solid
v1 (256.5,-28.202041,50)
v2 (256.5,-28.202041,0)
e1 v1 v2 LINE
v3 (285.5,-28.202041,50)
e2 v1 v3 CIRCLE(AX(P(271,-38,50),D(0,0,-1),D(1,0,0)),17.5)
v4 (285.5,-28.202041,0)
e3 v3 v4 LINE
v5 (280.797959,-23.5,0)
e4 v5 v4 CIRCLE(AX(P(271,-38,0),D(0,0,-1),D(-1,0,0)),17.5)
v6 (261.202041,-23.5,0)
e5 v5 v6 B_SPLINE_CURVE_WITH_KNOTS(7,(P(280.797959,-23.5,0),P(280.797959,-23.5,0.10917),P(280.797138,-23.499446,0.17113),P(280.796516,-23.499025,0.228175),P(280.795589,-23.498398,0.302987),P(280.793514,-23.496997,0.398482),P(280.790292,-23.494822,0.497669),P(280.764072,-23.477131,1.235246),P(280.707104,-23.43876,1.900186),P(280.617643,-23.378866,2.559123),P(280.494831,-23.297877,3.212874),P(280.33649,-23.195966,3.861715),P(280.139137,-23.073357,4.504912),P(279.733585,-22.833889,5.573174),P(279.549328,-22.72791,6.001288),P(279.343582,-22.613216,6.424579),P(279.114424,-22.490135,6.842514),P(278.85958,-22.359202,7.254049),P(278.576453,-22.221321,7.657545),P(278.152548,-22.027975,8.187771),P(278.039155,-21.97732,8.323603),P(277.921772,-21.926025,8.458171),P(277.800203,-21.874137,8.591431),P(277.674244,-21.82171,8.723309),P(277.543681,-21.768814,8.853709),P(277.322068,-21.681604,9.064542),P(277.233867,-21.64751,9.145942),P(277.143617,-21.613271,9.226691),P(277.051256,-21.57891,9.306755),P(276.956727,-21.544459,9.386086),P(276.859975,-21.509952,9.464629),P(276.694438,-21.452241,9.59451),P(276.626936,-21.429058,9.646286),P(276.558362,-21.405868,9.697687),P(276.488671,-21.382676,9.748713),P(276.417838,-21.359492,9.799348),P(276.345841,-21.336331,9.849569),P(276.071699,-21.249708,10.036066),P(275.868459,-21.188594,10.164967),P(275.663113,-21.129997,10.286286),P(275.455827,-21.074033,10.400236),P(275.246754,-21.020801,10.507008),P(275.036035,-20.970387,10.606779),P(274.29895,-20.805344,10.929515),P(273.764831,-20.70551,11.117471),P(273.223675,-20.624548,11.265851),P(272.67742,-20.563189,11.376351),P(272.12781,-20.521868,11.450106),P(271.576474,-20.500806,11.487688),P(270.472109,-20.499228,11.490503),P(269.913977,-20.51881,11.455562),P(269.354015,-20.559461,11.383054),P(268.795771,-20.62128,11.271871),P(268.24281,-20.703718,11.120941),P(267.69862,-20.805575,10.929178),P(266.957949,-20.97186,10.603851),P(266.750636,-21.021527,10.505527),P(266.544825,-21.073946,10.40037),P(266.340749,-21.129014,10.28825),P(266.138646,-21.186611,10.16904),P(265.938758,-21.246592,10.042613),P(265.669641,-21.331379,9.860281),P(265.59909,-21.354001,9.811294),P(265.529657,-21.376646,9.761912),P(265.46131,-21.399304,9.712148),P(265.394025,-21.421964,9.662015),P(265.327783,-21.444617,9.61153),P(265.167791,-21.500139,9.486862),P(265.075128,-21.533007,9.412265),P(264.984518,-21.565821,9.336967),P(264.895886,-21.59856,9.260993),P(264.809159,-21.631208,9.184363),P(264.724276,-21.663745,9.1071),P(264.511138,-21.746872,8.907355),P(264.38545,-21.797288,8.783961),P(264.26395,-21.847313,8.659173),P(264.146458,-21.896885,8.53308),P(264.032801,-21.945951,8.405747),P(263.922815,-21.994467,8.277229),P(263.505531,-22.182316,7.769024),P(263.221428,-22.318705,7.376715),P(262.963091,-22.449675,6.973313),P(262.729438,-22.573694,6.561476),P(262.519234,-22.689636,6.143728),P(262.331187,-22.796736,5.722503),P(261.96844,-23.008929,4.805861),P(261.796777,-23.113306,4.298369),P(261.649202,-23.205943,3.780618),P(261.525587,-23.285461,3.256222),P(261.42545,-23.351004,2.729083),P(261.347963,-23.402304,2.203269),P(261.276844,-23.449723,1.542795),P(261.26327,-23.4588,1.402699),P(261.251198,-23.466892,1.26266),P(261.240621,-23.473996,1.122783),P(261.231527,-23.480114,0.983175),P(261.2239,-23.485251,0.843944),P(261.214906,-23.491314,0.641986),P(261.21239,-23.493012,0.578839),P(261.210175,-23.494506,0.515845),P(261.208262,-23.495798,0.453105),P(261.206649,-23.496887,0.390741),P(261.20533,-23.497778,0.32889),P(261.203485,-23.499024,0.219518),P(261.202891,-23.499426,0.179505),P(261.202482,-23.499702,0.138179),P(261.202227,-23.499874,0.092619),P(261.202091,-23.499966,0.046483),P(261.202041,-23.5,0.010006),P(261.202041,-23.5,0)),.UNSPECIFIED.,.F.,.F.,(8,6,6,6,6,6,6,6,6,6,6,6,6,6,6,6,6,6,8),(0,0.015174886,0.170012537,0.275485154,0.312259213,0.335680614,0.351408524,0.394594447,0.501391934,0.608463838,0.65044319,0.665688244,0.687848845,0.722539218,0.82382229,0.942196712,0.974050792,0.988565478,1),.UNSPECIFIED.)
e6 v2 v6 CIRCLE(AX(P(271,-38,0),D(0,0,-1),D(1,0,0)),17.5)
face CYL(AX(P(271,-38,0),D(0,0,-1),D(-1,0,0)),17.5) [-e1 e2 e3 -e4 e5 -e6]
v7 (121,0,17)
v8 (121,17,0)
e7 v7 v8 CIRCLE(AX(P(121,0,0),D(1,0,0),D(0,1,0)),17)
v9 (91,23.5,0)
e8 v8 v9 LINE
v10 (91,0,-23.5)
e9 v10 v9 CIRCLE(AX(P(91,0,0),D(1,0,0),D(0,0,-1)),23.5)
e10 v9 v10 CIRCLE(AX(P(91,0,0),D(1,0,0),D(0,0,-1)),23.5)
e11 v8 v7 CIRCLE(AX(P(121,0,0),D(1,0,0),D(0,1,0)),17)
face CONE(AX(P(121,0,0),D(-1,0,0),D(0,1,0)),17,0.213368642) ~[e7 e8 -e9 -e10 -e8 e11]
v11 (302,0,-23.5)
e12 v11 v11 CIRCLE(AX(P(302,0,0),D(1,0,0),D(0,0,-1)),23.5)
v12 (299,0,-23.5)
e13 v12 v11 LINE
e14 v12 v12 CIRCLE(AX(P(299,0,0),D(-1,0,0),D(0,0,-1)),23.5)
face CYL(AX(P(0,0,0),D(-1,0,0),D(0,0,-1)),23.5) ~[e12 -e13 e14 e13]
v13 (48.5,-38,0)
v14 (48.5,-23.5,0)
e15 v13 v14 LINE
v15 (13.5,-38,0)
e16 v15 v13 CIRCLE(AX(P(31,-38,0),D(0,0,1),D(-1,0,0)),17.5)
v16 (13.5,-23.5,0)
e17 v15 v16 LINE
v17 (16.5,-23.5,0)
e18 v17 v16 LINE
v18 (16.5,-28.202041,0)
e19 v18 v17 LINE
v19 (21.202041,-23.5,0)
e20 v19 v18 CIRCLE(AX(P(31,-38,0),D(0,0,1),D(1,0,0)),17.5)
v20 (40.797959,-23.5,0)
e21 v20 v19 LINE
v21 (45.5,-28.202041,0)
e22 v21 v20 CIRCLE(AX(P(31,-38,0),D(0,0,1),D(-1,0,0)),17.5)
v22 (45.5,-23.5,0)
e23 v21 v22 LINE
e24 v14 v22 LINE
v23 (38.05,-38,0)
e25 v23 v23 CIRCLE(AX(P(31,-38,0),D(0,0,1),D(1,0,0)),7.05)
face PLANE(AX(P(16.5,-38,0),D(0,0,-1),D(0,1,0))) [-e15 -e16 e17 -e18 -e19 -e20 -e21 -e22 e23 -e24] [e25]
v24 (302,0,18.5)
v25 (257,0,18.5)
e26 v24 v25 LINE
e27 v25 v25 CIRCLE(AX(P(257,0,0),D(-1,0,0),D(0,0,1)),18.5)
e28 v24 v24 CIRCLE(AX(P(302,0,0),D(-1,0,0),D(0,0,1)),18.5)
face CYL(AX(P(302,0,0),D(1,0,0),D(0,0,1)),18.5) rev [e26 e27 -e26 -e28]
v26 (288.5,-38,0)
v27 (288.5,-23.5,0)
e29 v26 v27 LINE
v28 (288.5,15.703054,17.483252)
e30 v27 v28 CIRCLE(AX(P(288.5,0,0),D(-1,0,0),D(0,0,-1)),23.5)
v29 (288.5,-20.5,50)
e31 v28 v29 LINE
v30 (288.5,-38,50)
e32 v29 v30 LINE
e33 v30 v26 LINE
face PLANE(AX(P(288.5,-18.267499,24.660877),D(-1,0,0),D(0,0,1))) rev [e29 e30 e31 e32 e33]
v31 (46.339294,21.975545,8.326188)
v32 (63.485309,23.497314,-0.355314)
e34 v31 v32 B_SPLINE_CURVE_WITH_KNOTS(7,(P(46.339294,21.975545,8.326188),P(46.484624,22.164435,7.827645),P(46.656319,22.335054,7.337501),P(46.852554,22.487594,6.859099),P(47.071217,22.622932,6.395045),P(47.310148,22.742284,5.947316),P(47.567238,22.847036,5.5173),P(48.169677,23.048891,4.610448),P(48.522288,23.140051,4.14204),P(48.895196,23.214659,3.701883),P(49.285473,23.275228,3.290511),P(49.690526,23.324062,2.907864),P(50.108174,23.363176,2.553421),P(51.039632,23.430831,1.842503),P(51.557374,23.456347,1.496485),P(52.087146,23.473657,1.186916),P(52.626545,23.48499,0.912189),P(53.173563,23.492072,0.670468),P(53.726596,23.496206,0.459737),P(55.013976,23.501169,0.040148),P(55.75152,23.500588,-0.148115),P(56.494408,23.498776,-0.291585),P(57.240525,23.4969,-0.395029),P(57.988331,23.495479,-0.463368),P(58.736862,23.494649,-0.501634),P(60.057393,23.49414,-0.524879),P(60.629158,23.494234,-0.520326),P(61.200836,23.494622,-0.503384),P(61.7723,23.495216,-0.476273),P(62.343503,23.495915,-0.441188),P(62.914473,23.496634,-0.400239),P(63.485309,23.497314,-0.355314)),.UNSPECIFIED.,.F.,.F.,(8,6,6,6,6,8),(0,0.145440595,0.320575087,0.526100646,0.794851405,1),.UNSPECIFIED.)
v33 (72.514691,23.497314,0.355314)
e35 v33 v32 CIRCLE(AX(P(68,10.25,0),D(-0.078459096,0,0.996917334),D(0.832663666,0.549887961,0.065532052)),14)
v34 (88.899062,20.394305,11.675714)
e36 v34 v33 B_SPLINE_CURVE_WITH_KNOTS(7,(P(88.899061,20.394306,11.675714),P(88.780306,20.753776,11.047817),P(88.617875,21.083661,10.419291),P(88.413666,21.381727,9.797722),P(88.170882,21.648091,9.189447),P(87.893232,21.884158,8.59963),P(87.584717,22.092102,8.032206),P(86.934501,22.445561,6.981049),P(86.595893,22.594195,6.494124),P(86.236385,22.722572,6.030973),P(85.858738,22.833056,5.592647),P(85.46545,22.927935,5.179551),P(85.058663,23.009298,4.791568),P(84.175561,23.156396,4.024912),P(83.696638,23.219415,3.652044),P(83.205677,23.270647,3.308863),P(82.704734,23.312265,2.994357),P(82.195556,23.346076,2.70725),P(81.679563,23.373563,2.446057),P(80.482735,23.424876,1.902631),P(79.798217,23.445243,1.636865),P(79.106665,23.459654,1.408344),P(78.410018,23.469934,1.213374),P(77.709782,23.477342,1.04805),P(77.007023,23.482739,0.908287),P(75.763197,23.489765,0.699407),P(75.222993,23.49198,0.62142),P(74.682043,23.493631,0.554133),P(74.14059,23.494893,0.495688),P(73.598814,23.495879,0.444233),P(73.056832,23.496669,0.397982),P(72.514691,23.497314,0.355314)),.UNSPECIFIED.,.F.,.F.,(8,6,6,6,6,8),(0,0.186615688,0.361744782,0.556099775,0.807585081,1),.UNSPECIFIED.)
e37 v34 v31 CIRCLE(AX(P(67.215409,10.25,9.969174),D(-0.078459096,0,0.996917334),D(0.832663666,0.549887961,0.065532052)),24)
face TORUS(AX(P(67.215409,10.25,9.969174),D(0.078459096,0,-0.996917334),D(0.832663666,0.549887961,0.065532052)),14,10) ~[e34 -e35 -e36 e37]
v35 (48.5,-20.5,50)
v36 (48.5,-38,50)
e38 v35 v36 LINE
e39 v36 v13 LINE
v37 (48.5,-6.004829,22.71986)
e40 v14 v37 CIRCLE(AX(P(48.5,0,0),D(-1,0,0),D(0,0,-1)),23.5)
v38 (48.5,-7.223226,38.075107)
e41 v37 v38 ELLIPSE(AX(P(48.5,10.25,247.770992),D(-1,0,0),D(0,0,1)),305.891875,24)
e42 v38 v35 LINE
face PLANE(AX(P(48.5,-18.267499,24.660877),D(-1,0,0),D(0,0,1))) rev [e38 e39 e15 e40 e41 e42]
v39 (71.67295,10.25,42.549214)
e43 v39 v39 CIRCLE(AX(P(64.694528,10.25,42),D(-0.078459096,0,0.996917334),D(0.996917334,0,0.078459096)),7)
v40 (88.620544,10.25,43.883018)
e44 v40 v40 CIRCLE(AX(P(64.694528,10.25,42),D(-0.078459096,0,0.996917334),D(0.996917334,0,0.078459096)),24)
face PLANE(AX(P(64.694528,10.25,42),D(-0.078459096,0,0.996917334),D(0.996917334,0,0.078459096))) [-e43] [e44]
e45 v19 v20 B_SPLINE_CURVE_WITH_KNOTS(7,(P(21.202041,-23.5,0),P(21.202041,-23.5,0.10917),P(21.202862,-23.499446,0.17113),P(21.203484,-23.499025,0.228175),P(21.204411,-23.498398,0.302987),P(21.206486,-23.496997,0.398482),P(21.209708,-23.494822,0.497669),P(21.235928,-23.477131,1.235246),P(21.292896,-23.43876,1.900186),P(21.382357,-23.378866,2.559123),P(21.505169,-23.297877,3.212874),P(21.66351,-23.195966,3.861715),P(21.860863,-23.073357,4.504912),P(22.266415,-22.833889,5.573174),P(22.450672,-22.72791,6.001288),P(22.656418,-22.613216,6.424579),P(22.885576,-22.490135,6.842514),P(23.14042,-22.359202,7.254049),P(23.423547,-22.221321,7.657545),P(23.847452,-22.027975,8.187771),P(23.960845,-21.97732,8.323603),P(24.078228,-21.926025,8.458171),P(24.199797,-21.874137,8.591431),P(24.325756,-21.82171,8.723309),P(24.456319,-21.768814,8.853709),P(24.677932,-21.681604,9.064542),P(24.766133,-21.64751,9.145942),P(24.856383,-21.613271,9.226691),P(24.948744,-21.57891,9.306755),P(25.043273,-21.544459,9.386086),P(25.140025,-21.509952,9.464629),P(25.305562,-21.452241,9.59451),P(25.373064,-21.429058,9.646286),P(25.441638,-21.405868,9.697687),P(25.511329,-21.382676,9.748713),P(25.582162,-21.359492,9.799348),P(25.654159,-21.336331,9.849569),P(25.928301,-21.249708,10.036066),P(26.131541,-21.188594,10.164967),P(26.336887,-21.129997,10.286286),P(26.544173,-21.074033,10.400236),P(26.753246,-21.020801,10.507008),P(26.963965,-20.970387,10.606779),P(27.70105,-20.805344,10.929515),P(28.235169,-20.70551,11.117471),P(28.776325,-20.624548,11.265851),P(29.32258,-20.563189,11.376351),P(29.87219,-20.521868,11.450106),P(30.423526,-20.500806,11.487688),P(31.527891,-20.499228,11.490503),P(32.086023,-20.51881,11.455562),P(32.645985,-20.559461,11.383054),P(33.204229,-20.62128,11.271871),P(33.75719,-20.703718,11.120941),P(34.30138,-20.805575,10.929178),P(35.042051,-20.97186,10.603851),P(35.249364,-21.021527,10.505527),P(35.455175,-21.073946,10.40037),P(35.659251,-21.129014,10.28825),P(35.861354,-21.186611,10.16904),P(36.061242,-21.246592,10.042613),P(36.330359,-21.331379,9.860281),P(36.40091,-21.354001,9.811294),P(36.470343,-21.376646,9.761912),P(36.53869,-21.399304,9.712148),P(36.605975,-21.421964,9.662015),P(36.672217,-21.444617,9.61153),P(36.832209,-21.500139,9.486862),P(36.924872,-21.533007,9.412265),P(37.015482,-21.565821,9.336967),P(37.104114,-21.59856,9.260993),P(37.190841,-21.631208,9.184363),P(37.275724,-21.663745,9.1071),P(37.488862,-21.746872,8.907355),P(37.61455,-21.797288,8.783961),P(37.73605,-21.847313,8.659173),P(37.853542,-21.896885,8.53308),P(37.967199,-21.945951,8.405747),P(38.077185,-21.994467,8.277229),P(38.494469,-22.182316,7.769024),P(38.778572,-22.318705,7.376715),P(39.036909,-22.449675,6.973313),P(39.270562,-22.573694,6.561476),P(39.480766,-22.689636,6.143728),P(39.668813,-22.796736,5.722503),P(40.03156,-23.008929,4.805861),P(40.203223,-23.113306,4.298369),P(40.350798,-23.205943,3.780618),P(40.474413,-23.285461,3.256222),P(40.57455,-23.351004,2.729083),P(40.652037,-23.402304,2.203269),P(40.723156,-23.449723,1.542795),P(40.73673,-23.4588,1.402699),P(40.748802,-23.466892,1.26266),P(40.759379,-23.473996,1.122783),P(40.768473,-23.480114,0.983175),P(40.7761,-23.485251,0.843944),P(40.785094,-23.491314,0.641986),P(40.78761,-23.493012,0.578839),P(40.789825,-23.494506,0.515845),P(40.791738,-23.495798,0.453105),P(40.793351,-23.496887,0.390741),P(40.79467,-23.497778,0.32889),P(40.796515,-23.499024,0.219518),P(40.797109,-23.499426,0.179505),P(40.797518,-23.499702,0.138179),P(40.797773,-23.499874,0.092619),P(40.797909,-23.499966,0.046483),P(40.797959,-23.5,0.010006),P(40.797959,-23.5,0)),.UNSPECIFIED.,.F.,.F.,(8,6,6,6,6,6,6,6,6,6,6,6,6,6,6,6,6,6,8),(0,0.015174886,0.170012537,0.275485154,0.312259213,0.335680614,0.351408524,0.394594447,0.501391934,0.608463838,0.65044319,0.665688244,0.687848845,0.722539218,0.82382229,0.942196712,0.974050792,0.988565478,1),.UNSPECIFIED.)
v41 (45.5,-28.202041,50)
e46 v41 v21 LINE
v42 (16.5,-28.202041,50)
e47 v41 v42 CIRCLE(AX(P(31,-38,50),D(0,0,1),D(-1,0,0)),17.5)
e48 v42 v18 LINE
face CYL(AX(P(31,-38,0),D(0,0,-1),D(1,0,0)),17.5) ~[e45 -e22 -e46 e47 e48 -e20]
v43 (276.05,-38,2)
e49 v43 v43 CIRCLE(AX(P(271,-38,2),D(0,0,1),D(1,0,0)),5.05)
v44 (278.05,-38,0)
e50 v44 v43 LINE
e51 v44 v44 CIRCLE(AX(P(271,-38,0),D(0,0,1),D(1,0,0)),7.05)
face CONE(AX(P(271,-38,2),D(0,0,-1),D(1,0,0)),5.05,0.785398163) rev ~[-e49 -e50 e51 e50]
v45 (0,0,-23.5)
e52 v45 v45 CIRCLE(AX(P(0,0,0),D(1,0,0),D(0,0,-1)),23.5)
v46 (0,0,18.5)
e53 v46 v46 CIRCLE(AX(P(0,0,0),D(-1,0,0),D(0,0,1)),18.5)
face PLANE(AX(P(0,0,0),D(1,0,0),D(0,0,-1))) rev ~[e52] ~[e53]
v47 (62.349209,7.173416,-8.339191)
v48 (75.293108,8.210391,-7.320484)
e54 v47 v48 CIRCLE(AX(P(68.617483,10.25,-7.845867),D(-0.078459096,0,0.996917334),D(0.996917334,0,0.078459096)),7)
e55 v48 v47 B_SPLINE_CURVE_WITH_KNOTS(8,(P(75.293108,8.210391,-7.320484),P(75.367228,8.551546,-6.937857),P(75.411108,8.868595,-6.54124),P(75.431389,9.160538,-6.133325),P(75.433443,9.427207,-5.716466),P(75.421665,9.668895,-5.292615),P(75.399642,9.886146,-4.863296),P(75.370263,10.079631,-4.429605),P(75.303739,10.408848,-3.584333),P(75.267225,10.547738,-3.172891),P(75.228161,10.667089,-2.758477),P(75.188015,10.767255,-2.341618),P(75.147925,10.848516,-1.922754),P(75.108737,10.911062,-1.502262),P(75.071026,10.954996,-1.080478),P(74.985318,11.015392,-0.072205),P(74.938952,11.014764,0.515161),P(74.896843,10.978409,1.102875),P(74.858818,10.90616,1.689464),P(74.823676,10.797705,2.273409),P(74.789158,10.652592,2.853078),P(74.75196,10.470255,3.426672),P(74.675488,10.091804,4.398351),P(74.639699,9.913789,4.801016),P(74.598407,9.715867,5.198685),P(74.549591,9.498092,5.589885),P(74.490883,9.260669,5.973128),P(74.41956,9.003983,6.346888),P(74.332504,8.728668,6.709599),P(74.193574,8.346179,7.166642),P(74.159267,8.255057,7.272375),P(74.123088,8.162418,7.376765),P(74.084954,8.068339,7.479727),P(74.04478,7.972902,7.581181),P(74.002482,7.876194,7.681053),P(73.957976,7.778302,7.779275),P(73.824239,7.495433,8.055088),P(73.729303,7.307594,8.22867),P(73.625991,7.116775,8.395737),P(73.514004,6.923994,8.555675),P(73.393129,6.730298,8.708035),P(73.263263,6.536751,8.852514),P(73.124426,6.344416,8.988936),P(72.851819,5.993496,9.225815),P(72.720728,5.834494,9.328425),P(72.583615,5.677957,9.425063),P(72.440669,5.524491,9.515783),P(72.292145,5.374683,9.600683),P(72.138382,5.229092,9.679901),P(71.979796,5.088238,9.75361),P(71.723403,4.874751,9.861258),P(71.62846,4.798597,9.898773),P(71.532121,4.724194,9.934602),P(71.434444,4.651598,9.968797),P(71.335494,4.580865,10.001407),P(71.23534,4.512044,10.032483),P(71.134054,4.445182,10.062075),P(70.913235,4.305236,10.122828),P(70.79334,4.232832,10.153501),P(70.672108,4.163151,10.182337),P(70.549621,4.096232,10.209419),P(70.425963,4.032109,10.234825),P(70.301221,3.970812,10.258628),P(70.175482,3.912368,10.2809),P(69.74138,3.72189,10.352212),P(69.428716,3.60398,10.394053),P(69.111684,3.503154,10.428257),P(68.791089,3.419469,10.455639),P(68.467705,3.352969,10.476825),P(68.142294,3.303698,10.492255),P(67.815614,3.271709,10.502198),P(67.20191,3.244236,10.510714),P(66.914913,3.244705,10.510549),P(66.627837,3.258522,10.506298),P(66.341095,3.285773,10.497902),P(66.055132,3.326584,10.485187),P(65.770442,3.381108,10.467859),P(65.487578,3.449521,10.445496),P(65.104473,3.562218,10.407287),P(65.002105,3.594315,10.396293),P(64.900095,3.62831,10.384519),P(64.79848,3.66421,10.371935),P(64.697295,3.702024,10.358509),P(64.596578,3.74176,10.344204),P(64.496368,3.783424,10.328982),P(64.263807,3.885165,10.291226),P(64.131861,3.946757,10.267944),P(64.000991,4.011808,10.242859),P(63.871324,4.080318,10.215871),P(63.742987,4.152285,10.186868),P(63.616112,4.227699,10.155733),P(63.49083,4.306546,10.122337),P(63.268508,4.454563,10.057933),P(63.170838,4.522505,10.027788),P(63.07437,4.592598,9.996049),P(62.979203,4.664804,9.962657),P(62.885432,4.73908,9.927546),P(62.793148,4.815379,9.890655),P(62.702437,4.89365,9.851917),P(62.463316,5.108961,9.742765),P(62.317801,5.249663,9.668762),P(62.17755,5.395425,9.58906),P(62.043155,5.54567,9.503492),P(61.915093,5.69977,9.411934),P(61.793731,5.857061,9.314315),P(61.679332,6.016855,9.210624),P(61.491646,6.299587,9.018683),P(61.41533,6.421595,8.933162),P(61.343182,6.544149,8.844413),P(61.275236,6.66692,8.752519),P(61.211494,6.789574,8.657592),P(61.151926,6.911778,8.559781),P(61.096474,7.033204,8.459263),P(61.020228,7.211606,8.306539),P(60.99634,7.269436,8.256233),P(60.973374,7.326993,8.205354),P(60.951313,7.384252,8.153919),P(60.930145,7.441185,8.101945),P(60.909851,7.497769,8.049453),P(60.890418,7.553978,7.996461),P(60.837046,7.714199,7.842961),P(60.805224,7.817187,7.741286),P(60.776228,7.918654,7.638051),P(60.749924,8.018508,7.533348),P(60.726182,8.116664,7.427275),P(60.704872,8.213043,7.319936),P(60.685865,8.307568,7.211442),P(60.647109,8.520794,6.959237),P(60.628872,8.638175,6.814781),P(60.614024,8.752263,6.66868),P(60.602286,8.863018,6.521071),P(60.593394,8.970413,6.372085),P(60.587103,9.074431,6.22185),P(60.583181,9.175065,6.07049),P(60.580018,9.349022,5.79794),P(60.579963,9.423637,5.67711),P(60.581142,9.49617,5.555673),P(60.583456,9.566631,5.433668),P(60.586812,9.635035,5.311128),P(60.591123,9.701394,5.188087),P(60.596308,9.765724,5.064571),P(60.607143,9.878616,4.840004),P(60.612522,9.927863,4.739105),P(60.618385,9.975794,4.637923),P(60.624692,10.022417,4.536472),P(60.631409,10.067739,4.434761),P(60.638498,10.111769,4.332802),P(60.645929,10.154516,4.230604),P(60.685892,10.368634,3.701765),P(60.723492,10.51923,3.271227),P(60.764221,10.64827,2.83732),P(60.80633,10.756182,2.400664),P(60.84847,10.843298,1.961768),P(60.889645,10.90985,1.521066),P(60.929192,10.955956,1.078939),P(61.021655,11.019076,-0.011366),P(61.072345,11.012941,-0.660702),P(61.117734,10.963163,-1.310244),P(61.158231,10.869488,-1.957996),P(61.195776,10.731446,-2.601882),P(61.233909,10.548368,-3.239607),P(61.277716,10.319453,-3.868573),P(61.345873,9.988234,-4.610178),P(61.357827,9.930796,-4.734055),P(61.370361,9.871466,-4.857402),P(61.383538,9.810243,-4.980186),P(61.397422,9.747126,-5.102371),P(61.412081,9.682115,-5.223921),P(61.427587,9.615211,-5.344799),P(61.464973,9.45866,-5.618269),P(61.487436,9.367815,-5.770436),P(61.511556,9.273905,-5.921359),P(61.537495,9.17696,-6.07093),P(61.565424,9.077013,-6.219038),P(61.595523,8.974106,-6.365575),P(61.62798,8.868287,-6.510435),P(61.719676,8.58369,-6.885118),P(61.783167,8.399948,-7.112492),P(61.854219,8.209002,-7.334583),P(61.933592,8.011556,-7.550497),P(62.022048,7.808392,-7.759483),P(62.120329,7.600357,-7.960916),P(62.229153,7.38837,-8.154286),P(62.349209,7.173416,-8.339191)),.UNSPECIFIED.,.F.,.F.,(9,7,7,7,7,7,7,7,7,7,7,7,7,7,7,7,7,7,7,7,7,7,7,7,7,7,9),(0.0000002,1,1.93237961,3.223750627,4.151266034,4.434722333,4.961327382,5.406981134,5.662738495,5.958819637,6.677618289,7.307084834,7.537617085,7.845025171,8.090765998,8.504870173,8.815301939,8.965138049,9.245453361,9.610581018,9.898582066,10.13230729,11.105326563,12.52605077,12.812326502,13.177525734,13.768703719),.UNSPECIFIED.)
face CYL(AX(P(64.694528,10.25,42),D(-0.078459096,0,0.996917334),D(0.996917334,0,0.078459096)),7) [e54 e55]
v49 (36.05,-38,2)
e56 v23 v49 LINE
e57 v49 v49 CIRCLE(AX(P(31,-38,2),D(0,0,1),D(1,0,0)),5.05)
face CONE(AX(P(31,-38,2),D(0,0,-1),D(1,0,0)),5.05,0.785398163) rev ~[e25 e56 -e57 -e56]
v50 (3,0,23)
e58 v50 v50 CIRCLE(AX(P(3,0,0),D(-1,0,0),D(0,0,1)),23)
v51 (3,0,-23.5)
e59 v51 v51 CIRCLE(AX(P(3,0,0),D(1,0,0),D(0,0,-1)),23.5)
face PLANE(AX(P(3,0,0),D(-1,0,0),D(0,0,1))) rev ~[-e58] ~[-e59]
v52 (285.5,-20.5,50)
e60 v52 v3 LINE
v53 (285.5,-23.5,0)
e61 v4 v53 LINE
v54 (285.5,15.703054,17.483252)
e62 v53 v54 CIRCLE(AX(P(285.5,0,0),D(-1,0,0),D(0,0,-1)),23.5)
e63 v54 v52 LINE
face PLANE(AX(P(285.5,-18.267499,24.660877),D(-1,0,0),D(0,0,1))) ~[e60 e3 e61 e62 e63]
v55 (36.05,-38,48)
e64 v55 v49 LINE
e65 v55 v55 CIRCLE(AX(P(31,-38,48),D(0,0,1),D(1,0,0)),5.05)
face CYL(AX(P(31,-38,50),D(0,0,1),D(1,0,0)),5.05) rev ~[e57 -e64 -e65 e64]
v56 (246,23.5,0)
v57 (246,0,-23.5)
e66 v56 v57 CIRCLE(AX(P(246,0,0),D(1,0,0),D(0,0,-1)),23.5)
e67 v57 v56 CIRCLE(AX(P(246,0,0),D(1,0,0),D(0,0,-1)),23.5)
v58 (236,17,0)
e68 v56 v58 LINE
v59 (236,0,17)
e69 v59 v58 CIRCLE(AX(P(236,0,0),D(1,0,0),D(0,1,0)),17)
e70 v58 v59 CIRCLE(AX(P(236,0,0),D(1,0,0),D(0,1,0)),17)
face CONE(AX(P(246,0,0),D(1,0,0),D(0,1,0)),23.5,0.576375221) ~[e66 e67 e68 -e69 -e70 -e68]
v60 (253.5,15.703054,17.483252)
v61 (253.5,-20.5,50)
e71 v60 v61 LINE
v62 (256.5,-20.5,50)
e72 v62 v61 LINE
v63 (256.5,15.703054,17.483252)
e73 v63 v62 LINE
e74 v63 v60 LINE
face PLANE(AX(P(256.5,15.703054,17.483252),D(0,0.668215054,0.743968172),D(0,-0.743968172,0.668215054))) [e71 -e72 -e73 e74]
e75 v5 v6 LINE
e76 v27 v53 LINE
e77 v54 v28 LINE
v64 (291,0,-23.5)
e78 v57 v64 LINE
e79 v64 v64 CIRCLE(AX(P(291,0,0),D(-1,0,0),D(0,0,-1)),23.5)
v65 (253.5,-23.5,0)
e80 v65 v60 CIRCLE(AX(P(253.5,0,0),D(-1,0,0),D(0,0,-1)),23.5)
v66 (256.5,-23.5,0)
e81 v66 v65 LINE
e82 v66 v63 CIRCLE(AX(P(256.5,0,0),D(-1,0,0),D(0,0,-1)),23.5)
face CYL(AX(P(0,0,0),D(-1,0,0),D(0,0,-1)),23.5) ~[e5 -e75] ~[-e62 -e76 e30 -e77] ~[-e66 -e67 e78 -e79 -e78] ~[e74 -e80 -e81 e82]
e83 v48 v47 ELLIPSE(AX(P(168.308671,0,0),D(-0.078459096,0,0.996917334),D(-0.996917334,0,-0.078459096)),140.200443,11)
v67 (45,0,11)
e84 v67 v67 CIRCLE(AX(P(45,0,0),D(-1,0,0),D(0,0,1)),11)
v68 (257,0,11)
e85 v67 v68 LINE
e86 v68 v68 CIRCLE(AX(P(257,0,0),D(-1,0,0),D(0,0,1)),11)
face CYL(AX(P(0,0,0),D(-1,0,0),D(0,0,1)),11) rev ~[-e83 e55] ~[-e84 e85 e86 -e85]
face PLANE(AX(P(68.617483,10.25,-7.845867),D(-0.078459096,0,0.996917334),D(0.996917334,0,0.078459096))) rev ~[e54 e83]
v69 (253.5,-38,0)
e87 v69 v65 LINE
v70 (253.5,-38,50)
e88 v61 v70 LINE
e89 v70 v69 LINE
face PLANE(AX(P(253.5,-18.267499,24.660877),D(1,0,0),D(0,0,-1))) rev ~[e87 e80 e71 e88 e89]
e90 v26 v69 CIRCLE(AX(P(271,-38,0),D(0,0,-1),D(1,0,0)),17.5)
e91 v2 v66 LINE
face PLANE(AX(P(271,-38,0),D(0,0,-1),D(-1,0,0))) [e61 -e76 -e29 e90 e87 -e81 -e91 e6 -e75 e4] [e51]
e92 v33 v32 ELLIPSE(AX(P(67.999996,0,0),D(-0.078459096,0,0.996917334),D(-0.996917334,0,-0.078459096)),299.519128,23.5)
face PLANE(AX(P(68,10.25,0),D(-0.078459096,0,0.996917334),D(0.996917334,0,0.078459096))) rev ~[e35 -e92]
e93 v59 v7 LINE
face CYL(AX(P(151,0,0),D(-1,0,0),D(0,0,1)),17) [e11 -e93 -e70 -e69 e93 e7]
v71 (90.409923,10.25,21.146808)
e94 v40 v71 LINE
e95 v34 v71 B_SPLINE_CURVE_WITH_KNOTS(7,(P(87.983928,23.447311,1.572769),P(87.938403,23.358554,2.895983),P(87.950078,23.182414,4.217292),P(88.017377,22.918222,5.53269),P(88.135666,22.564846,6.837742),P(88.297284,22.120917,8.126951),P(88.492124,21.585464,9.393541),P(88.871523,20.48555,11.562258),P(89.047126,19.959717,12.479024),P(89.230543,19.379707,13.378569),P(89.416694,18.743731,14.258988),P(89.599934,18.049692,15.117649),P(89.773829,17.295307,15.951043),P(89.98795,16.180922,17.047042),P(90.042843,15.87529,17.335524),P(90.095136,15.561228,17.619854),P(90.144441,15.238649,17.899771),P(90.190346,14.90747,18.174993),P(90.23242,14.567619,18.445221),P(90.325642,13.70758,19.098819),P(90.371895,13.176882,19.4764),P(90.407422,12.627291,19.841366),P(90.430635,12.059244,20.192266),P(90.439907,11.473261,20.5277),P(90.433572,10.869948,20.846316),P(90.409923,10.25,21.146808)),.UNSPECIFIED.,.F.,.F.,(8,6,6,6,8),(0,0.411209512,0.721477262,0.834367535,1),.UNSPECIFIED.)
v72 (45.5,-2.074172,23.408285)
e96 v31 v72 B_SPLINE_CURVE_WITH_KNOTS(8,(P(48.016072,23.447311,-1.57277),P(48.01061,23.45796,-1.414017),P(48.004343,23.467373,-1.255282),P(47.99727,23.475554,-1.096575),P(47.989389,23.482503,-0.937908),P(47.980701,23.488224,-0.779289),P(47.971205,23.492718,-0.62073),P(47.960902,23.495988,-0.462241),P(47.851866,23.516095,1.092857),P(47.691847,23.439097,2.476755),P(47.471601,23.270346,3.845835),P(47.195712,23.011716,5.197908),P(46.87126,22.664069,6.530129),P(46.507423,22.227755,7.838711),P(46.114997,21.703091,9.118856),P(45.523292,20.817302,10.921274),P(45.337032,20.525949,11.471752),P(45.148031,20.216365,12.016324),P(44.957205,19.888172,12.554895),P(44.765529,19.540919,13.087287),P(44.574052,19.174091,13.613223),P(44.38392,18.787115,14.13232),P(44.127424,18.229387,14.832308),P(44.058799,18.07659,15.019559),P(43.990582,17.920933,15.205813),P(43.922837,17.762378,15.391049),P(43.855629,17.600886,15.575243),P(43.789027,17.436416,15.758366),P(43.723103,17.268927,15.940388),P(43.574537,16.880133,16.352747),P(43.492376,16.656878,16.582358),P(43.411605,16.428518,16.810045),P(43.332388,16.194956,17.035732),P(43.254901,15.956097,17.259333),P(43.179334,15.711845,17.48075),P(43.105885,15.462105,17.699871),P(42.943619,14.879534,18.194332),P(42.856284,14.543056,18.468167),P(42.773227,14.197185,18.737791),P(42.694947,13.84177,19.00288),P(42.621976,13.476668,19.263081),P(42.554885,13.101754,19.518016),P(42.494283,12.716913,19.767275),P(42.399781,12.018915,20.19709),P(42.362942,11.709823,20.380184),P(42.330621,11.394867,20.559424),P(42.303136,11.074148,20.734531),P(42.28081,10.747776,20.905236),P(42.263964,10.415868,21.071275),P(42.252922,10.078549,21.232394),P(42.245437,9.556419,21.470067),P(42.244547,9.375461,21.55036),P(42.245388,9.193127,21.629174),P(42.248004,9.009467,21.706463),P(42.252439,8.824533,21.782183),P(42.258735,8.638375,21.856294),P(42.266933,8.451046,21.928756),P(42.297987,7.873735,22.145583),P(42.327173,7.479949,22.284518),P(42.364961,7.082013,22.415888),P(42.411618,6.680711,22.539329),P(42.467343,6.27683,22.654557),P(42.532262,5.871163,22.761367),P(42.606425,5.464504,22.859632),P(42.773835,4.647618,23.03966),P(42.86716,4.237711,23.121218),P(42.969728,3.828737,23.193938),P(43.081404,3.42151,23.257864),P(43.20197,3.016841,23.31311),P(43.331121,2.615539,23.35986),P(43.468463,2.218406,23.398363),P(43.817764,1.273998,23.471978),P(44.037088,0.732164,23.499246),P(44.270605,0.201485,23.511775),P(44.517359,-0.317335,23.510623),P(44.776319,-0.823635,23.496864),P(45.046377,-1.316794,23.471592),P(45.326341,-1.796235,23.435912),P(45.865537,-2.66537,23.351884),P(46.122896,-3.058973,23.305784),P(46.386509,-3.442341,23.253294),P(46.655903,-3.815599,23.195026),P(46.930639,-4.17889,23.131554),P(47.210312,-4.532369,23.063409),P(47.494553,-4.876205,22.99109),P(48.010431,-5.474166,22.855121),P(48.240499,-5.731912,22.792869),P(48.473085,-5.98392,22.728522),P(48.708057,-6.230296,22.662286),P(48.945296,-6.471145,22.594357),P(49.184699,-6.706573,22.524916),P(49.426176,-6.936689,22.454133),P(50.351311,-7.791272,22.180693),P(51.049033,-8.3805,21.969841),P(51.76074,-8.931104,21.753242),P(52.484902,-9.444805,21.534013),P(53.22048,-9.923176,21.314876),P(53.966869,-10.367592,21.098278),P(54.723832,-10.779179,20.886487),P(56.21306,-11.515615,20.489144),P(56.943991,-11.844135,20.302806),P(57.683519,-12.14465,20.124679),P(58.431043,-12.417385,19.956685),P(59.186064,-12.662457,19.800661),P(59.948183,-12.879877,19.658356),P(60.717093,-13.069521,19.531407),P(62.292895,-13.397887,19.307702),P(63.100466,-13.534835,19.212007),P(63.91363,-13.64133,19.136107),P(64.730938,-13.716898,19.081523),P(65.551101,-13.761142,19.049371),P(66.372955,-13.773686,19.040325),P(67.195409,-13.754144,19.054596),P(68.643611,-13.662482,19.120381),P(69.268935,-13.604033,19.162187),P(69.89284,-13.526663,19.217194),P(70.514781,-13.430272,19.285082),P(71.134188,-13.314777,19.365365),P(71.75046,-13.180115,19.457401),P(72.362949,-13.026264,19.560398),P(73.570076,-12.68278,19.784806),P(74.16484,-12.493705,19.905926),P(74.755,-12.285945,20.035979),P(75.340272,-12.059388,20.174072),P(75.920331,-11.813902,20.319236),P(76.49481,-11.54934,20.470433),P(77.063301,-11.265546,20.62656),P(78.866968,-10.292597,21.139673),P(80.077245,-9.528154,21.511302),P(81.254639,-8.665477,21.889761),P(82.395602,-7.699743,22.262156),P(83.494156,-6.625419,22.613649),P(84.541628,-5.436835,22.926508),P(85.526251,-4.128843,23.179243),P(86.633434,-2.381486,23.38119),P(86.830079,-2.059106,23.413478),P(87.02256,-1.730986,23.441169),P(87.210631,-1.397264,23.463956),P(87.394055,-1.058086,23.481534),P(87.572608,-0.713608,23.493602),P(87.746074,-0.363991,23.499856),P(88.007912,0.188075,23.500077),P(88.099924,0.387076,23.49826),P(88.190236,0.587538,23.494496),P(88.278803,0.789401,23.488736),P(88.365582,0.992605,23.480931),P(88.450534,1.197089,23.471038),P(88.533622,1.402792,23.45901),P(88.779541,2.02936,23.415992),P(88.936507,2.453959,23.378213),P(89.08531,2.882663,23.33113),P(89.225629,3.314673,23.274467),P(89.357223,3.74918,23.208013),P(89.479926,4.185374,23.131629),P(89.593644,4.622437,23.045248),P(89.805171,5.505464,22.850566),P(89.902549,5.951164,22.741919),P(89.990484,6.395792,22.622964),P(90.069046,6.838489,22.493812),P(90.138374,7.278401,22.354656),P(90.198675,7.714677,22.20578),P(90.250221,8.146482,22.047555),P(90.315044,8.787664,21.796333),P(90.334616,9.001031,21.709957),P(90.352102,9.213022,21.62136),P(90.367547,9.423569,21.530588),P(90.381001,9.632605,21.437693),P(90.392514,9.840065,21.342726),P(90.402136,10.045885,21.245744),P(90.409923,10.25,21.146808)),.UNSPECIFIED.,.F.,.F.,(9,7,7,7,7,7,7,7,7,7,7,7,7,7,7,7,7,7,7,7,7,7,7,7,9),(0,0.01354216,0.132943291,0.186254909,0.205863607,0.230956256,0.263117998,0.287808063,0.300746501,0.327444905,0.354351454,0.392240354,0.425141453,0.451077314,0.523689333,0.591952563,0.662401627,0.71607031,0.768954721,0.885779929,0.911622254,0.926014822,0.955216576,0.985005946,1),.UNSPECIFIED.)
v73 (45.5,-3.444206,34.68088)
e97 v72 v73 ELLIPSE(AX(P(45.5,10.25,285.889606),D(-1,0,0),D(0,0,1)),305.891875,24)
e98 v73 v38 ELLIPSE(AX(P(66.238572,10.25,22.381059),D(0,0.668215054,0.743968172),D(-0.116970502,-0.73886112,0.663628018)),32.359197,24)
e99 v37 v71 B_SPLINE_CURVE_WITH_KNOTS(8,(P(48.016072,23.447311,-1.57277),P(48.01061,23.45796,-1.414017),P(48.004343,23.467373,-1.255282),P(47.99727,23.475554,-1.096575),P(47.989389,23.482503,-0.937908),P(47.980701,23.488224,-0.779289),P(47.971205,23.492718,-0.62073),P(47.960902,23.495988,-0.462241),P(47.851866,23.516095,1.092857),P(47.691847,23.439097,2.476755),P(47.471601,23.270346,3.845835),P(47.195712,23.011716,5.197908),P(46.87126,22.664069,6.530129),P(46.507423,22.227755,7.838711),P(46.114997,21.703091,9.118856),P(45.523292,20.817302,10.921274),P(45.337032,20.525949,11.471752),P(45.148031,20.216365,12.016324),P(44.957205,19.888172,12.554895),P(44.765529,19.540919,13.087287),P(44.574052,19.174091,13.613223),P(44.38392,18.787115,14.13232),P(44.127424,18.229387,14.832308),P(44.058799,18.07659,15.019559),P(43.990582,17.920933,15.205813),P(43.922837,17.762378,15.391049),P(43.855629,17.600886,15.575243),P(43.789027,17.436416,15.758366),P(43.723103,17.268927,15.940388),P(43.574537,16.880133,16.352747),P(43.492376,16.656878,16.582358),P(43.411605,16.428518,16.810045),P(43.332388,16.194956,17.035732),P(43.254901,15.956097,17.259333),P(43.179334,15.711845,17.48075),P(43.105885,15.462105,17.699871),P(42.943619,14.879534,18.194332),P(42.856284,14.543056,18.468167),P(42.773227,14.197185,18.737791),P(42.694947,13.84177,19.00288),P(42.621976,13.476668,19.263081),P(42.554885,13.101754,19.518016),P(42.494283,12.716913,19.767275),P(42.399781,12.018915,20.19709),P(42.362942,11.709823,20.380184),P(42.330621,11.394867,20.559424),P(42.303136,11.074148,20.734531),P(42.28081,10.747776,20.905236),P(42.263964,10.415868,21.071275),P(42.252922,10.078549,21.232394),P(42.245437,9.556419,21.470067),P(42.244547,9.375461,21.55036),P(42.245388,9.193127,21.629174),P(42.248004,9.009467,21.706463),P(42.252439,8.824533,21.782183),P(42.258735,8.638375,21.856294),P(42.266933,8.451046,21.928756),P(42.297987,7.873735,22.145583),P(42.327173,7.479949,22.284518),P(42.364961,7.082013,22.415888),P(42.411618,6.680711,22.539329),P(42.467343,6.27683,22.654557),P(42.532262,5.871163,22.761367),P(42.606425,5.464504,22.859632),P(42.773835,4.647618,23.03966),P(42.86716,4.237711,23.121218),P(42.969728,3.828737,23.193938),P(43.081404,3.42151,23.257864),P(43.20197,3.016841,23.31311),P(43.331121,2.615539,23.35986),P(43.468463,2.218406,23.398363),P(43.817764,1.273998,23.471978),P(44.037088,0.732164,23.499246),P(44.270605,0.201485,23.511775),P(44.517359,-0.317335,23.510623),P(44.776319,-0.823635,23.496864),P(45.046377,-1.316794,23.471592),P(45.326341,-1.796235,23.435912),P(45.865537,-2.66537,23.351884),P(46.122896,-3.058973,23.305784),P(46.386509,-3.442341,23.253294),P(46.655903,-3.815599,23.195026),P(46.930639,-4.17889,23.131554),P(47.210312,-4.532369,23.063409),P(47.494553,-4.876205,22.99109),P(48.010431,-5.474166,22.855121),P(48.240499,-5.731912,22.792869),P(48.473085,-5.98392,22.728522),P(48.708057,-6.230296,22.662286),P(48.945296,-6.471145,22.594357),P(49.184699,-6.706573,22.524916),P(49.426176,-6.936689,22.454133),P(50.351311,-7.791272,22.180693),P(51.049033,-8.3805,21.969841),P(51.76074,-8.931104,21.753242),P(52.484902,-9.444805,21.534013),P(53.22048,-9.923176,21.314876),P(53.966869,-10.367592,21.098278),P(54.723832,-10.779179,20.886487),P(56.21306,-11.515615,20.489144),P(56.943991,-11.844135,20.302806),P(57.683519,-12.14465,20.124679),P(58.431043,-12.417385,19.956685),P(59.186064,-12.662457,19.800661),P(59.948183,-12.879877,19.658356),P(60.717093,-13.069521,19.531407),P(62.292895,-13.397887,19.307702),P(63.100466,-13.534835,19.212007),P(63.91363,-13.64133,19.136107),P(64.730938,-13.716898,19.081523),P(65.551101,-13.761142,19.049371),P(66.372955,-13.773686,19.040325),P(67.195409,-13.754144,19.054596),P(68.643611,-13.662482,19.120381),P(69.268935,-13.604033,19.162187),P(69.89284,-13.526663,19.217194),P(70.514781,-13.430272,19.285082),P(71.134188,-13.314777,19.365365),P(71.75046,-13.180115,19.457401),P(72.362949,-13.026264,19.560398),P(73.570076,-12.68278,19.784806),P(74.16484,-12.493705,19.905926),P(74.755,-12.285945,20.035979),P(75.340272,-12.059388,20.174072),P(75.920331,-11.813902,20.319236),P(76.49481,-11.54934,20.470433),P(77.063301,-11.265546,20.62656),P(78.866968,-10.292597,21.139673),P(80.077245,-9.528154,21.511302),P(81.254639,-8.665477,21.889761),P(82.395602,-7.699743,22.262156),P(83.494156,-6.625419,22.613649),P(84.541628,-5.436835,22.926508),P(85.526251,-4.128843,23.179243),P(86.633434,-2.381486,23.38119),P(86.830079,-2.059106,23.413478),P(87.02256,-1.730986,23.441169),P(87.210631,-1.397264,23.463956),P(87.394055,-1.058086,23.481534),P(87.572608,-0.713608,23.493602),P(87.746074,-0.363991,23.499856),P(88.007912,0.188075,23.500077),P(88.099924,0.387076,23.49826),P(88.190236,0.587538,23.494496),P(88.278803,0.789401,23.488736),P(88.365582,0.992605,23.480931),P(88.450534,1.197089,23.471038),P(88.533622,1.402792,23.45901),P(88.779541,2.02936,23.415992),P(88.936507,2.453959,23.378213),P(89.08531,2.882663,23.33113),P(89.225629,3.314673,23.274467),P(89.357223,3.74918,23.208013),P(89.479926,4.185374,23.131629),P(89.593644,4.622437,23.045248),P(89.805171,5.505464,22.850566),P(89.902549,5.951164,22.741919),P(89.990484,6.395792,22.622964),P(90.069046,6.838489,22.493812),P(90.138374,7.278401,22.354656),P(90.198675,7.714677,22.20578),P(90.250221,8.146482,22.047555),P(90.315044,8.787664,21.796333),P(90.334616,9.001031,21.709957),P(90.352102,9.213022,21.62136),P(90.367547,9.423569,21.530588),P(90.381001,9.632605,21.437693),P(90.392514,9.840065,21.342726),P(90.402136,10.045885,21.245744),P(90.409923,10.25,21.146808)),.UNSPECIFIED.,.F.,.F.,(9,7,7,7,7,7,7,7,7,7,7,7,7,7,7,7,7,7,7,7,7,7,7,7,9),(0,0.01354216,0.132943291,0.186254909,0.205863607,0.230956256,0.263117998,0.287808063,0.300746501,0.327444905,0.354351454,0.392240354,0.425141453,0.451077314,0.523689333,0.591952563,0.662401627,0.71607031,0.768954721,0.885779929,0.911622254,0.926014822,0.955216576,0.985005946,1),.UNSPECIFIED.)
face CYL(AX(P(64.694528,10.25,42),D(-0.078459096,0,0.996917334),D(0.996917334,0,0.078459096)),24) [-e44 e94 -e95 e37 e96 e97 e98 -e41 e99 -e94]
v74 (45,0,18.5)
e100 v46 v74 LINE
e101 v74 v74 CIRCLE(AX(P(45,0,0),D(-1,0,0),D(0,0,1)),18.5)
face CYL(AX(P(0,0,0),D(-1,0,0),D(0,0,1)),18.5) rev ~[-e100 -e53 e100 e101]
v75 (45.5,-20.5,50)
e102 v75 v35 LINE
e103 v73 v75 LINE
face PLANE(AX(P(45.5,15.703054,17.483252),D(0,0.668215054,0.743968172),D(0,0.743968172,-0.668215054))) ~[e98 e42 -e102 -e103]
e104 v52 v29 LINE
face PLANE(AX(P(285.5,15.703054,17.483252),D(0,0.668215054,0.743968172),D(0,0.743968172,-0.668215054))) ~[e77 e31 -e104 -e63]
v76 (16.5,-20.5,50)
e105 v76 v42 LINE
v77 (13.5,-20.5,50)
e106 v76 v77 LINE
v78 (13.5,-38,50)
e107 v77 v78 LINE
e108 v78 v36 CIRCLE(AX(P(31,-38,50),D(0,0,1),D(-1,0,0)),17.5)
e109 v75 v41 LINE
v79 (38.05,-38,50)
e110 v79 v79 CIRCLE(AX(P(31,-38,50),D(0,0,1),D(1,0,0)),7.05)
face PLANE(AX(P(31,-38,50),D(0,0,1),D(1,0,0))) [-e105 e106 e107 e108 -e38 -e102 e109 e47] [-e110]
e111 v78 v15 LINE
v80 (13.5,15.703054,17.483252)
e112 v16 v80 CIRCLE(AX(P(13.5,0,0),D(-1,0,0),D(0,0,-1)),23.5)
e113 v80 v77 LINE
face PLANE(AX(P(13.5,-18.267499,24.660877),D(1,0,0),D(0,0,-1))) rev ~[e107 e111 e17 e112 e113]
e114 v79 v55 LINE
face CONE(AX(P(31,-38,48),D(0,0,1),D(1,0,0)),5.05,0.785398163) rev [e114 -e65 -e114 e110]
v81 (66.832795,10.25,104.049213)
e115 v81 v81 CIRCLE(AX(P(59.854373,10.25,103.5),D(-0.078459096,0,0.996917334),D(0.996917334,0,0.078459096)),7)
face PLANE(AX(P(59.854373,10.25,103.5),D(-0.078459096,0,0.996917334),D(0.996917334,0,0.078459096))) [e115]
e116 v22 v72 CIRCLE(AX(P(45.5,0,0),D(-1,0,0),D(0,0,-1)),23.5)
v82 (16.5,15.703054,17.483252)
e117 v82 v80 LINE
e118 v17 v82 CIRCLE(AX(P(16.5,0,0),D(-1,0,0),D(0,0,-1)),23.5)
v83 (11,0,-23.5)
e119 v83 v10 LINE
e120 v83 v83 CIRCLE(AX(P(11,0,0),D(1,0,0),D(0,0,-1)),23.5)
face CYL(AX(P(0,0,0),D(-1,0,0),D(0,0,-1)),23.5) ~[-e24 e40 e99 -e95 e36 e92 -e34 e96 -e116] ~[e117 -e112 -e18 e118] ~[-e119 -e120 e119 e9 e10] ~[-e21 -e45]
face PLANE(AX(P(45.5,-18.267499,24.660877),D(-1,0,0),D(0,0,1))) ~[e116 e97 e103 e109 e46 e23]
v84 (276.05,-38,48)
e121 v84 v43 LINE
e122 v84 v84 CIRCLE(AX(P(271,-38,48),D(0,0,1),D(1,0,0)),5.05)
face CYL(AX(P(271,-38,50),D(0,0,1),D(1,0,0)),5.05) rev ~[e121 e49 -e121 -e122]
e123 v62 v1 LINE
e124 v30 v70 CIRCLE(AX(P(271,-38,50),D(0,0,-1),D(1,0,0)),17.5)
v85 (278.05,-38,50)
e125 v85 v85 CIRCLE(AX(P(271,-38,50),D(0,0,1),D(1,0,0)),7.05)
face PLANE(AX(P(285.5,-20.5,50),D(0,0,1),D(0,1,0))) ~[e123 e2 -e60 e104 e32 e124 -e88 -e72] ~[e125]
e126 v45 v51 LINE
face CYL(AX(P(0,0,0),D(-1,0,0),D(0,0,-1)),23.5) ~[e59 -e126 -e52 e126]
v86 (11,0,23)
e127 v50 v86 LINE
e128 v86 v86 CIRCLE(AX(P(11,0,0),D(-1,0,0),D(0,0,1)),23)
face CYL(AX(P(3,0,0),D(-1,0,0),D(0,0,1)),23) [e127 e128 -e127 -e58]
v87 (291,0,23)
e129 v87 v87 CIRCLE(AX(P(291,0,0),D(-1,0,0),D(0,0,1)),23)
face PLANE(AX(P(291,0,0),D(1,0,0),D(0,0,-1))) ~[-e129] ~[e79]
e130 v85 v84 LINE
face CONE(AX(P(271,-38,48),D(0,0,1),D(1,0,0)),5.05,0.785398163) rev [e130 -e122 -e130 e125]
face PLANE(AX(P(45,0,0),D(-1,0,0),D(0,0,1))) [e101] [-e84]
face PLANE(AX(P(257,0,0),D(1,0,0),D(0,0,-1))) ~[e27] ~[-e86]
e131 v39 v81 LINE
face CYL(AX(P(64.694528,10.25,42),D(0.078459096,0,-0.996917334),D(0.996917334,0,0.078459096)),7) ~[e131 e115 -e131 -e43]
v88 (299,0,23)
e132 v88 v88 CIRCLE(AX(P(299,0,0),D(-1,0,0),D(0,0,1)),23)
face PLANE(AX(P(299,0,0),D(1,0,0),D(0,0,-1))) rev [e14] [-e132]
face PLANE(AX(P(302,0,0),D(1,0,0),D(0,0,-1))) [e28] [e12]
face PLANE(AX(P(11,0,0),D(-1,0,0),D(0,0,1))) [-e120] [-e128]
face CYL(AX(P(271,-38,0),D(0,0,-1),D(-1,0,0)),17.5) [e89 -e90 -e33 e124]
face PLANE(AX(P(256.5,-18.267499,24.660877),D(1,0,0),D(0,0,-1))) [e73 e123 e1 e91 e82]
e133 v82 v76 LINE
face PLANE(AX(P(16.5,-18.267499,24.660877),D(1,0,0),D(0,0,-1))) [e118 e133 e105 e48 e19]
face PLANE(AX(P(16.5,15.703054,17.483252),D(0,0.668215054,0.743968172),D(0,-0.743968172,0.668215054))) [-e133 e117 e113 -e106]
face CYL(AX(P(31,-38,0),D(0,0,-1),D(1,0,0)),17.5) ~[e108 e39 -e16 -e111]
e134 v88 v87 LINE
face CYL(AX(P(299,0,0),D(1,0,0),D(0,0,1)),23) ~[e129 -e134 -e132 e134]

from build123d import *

# Parameters (mm, degrees)
SZKIC1_R                        = 23.5
DODANIE_WYCI_GNI_CIE1_DEPTH     = 302
SZKIC2_R                        = 17.5
DODANIE_WYCI_GNI_CIE2_DEPTH     = 50
SZKIC4_R                        = 17.5
DODANIE_WYCI_GNI_CIE3_DEPTH     = 50
SZKIC5_R                        = 5.05
WYTNIJ_WYCI_GNI_CIE1_DEPTH      = 50
SFAZOWANIE1_SIZE                = 2
SZKIC8_R                        = 24
DODANIE_WYCI_GNI_CIE4_DEPTH     = 42.129872
SZKIC12_R                       = 7
DODANIE_WYCI_GNI_CIE5_DEPTH     = 61.69017
SZKIC6_R                        = 11
WYTNIJ_WYCI_GNI_CIE2_DEPTH      = 302
SZKIC13_R                       = 7
DODANIE_WYCI_GNI_CIE6_DEPTH     = 50
DODANIE_WYCI_GNI_CIE7_START     = 14.5
DODANIE_WYCI_GNI_CIE7_DEPTH     = 3
ZAOKR_GLENIE1_R                 = 10
LUSTRO2_START                   = 14.5
LUSTRO2_COPY_1_DEPTH            = 3
WYTNIJ_WYCI_GNI_CIE3_START      = -3
SZKIC17_R                       = 23.5
SZKIC17_R_2                     = 23
WYTNIJ_WYCI_GNI_CIE3_DEPTH      = 8
SZKIC18_R                       = 23.5
SZKIC18_R_2                     = 17
WYTNIJ_WYCI_GNI_CIE4_DEPTH      = 60
WYTNIJ_WYCI_GNI_CIE4_DEPTH_BACK = 95
SZKIC20_R                       = 18.5
WYTNIJ_WYCI_GNI_CIE5_DEPTH      = 45


with BuildPart() as part:
    # Szkic1 → Dodanie-wyciągnięcie1 (new body)
    with BuildSketch(Plane(origin=(0, 0, 0), x_dir=(0, 0, -1), z_dir=(1, 0, 0))):
        Circle(SZKIC1_R)
    extrude(amount=DODANIE_WYCI_GNI_CIE1_DEPTH)

    # Szkic2 → Dodanie-wyciągnięcie2 (add)
    with BuildSketch(Plane.XY):
        with Locations((31, -38)):
            Circle(SZKIC2_R)
    extrude(amount=DODANIE_WYCI_GNI_CIE2_DEPTH)

    # Szkic4 → Dodanie-wyciągnięcie3 (add)
    with BuildSketch(Plane(origin=(0, 0, 0), x_dir=(-1, 0, 0), z_dir=(0, 0, -1))):
        with Locations((-271, -38)):
            Circle(SZKIC4_R)
    extrude(amount=-DODANIE_WYCI_GNI_CIE3_DEPTH)

    # Szkic5 → Wytnij-wyciągnięcie1 (cut)
    with BuildSketch(Plane.XY.offset(50)):
        with Locations((31, -38)):
            Circle(SZKIC5_R)
        with Locations((271, -38)):
            Circle(SZKIC5_R)
    extrude(amount=-WYTNIJ_WYCI_GNI_CIE1_DEPTH, mode=Mode.SUBTRACT)

    # Sfazowanie1
    sfazowanie1_edges = [part.edges().sort_by_distance(p)[0] for p in [
        (25.95, -38, 0),
        (25.95, -38, 50),
        (265.95, -38, 0),
        (265.95, -38, 50),
    ]]
    chamfer(sfazowanie1_edges, length=SFAZOWANIE1_SIZE)

    # Szkic8 → Dodanie-wyciągnięcie4 (add)
    with BuildSketch(Plane(origin=(64.694528313, 23.5, 42), x_dir=(0.996917334, 0, 0.078459096), z_dir=(-0.078459096, 0, 0.996917334))):
        with Locations((0, -13.25)):
            Circle(SZKIC8_R)
    extrude(amount=-DODANIE_WYCI_GNI_CIE4_DEPTH)

    # Szkic12 → Dodanie-wyciągnięcie5 (add)
    with BuildSketch(Plane(origin=(-2.886875267, 0, 36.681228189), x_dir=(0.996917334, 0, 0.078459096), z_dir=(-0.078459096, 0, 0.996917334))):
        with Locations((67.790378694, 10.25)):
            Circle(SZKIC12_R)
    extrude(amount=DODANIE_WYCI_GNI_CIE5_DEPTH)

    # Szkic6 → Wytnij-wyciągnięcie2 (cut)
    with BuildSketch(Plane.ZY):
        Circle(SZKIC6_R)
    extrude(amount=-WYTNIJ_WYCI_GNI_CIE2_DEPTH, mode=Mode.SUBTRACT)

    # Szkic13 → Dodanie-wyciągnięcie6 (add)
    with BuildSketch(Plane(origin=(64.694528313, 23.5, 42), x_dir=(0.996917334, 0, 0.078459096), z_dir=(-0.078459096, 0, 0.996917334))):
        with Locations((0, -13.25)):
            Circle(SZKIC13_R)
    extrude(amount=-DODANIE_WYCI_GNI_CIE6_DEPTH)

    # Szkic16 → Dodanie-wyciągnięcie7 (add)
    with BuildSketch(Plane.ZY.offset(-31).offset(DODANIE_WYCI_GNI_CIE7_START)):
        Polygon((50, -38), (0, -38), (0, -20.172556468), (13.849344331, -17.060101722), (21.580694053, -1.91951259), (17.483252048, 15.703053774), (50, -20.5), align=None)
    dodanie_wyci_gni_cie7 = extrude(amount=DODANIE_WYCI_GNI_CIE7_DEPTH)

    # Zaokrąglenie1
    zaokr_glenie1_edges = [part.edges().sort_by_distance(p)[0] for p in [
        (68.000000001, 34.25, 3.37e-07),
    ]]
    fillet(zaokr_glenie1_edges, radius=ZAOKR_GLENIE1_R)

    # Lustro1: Dodanie-wyciągnięcie7 across plane
    add(dodanie_wyci_gni_cie7.mirror(Plane.ZY.offset(-31)))

    # Lustro2: Dodanie-wyciągnięcie7 across plane
    add(dodanie_wyci_gni_cie7.mirror(Plane.ZY.offset(-151)))

    # Lustro2 copy 1 sketch → Lustro2 copy 1 (add)
    with BuildSketch(Plane.ZY.offset(-271).offset(LUSTRO2_START)):
        Polygon((50, -38), (0, -38), (0, -20.172556468), (13.849344331, -17.060101722), (21.580694053, -1.91951259), (17.483252048, 15.703053774), (50, -20.5), align=None)
    extrude(amount=LUSTRO2_COPY_1_DEPTH)

    # Szkic17 → Wytnij-wyciągnięcie3 (cut)
    with BuildSketch(Plane.ZY.offset(WYTNIJ_WYCI_GNI_CIE3_START)):
        Circle(SZKIC17_R)
        Circle(SZKIC17_R_2, mode=Mode.SUBTRACT)
    wytnij_wyci_gni_cie3 = extrude(amount=-WYTNIJ_WYCI_GNI_CIE3_DEPTH, mode=Mode.SUBTRACT)

    # Lustro3: Wytnij-wyciągnięcie3 across plane
    add(wytnij_wyci_gni_cie3.mirror(Plane.ZY.offset(-151)), mode=Mode.SUBTRACT)

    # Szkic18 → Wytnij-wyciągnięcie4 (cut, two sides)
    with BuildSketch(Plane.ZY.offset(-151)) as wytnij_wyci_gni_cie4_sk:
        Circle(SZKIC18_R)
        Circle(SZKIC18_R_2, mode=Mode.SUBTRACT)
    extrude(amount=WYTNIJ_WYCI_GNI_CIE4_DEPTH, mode=Mode.SUBTRACT)
    extrude(wytnij_wyci_gni_cie4_sk.sketch, amount=-WYTNIJ_WYCI_GNI_CIE4_DEPTH_BACK, mode=Mode.SUBTRACT)

    # Szkic19 → Obrót1 (revolve)
    with BuildSketch(Plane.XY):
        Polygon((91, 23.5), (91, 17), (121, 17), align=None)
        Polygon((246, 17), (246, 23.5), (236, 17), align=None)
    revolve(axis=Axis((0, 0, 0), (1, 0, 0)))

    # Szkic20 → Wytnij-wyciągnięcie5 (cut)
    with BuildSketch(Plane.ZY):
        Circle(SZKIC20_R)
    wytnij_wyci_gni_cie5 = extrude(amount=-WYTNIJ_WYCI_GNI_CIE5_DEPTH, mode=Mode.SUBTRACT)

    # Lustro4: Wytnij-wyciągnięcie5 across plane
    add(wytnij_wyci_gni_cie5.mirror(Plane.ZY.offset(-151)), mode=Mode.SUBTRACT)


solid = part.part
